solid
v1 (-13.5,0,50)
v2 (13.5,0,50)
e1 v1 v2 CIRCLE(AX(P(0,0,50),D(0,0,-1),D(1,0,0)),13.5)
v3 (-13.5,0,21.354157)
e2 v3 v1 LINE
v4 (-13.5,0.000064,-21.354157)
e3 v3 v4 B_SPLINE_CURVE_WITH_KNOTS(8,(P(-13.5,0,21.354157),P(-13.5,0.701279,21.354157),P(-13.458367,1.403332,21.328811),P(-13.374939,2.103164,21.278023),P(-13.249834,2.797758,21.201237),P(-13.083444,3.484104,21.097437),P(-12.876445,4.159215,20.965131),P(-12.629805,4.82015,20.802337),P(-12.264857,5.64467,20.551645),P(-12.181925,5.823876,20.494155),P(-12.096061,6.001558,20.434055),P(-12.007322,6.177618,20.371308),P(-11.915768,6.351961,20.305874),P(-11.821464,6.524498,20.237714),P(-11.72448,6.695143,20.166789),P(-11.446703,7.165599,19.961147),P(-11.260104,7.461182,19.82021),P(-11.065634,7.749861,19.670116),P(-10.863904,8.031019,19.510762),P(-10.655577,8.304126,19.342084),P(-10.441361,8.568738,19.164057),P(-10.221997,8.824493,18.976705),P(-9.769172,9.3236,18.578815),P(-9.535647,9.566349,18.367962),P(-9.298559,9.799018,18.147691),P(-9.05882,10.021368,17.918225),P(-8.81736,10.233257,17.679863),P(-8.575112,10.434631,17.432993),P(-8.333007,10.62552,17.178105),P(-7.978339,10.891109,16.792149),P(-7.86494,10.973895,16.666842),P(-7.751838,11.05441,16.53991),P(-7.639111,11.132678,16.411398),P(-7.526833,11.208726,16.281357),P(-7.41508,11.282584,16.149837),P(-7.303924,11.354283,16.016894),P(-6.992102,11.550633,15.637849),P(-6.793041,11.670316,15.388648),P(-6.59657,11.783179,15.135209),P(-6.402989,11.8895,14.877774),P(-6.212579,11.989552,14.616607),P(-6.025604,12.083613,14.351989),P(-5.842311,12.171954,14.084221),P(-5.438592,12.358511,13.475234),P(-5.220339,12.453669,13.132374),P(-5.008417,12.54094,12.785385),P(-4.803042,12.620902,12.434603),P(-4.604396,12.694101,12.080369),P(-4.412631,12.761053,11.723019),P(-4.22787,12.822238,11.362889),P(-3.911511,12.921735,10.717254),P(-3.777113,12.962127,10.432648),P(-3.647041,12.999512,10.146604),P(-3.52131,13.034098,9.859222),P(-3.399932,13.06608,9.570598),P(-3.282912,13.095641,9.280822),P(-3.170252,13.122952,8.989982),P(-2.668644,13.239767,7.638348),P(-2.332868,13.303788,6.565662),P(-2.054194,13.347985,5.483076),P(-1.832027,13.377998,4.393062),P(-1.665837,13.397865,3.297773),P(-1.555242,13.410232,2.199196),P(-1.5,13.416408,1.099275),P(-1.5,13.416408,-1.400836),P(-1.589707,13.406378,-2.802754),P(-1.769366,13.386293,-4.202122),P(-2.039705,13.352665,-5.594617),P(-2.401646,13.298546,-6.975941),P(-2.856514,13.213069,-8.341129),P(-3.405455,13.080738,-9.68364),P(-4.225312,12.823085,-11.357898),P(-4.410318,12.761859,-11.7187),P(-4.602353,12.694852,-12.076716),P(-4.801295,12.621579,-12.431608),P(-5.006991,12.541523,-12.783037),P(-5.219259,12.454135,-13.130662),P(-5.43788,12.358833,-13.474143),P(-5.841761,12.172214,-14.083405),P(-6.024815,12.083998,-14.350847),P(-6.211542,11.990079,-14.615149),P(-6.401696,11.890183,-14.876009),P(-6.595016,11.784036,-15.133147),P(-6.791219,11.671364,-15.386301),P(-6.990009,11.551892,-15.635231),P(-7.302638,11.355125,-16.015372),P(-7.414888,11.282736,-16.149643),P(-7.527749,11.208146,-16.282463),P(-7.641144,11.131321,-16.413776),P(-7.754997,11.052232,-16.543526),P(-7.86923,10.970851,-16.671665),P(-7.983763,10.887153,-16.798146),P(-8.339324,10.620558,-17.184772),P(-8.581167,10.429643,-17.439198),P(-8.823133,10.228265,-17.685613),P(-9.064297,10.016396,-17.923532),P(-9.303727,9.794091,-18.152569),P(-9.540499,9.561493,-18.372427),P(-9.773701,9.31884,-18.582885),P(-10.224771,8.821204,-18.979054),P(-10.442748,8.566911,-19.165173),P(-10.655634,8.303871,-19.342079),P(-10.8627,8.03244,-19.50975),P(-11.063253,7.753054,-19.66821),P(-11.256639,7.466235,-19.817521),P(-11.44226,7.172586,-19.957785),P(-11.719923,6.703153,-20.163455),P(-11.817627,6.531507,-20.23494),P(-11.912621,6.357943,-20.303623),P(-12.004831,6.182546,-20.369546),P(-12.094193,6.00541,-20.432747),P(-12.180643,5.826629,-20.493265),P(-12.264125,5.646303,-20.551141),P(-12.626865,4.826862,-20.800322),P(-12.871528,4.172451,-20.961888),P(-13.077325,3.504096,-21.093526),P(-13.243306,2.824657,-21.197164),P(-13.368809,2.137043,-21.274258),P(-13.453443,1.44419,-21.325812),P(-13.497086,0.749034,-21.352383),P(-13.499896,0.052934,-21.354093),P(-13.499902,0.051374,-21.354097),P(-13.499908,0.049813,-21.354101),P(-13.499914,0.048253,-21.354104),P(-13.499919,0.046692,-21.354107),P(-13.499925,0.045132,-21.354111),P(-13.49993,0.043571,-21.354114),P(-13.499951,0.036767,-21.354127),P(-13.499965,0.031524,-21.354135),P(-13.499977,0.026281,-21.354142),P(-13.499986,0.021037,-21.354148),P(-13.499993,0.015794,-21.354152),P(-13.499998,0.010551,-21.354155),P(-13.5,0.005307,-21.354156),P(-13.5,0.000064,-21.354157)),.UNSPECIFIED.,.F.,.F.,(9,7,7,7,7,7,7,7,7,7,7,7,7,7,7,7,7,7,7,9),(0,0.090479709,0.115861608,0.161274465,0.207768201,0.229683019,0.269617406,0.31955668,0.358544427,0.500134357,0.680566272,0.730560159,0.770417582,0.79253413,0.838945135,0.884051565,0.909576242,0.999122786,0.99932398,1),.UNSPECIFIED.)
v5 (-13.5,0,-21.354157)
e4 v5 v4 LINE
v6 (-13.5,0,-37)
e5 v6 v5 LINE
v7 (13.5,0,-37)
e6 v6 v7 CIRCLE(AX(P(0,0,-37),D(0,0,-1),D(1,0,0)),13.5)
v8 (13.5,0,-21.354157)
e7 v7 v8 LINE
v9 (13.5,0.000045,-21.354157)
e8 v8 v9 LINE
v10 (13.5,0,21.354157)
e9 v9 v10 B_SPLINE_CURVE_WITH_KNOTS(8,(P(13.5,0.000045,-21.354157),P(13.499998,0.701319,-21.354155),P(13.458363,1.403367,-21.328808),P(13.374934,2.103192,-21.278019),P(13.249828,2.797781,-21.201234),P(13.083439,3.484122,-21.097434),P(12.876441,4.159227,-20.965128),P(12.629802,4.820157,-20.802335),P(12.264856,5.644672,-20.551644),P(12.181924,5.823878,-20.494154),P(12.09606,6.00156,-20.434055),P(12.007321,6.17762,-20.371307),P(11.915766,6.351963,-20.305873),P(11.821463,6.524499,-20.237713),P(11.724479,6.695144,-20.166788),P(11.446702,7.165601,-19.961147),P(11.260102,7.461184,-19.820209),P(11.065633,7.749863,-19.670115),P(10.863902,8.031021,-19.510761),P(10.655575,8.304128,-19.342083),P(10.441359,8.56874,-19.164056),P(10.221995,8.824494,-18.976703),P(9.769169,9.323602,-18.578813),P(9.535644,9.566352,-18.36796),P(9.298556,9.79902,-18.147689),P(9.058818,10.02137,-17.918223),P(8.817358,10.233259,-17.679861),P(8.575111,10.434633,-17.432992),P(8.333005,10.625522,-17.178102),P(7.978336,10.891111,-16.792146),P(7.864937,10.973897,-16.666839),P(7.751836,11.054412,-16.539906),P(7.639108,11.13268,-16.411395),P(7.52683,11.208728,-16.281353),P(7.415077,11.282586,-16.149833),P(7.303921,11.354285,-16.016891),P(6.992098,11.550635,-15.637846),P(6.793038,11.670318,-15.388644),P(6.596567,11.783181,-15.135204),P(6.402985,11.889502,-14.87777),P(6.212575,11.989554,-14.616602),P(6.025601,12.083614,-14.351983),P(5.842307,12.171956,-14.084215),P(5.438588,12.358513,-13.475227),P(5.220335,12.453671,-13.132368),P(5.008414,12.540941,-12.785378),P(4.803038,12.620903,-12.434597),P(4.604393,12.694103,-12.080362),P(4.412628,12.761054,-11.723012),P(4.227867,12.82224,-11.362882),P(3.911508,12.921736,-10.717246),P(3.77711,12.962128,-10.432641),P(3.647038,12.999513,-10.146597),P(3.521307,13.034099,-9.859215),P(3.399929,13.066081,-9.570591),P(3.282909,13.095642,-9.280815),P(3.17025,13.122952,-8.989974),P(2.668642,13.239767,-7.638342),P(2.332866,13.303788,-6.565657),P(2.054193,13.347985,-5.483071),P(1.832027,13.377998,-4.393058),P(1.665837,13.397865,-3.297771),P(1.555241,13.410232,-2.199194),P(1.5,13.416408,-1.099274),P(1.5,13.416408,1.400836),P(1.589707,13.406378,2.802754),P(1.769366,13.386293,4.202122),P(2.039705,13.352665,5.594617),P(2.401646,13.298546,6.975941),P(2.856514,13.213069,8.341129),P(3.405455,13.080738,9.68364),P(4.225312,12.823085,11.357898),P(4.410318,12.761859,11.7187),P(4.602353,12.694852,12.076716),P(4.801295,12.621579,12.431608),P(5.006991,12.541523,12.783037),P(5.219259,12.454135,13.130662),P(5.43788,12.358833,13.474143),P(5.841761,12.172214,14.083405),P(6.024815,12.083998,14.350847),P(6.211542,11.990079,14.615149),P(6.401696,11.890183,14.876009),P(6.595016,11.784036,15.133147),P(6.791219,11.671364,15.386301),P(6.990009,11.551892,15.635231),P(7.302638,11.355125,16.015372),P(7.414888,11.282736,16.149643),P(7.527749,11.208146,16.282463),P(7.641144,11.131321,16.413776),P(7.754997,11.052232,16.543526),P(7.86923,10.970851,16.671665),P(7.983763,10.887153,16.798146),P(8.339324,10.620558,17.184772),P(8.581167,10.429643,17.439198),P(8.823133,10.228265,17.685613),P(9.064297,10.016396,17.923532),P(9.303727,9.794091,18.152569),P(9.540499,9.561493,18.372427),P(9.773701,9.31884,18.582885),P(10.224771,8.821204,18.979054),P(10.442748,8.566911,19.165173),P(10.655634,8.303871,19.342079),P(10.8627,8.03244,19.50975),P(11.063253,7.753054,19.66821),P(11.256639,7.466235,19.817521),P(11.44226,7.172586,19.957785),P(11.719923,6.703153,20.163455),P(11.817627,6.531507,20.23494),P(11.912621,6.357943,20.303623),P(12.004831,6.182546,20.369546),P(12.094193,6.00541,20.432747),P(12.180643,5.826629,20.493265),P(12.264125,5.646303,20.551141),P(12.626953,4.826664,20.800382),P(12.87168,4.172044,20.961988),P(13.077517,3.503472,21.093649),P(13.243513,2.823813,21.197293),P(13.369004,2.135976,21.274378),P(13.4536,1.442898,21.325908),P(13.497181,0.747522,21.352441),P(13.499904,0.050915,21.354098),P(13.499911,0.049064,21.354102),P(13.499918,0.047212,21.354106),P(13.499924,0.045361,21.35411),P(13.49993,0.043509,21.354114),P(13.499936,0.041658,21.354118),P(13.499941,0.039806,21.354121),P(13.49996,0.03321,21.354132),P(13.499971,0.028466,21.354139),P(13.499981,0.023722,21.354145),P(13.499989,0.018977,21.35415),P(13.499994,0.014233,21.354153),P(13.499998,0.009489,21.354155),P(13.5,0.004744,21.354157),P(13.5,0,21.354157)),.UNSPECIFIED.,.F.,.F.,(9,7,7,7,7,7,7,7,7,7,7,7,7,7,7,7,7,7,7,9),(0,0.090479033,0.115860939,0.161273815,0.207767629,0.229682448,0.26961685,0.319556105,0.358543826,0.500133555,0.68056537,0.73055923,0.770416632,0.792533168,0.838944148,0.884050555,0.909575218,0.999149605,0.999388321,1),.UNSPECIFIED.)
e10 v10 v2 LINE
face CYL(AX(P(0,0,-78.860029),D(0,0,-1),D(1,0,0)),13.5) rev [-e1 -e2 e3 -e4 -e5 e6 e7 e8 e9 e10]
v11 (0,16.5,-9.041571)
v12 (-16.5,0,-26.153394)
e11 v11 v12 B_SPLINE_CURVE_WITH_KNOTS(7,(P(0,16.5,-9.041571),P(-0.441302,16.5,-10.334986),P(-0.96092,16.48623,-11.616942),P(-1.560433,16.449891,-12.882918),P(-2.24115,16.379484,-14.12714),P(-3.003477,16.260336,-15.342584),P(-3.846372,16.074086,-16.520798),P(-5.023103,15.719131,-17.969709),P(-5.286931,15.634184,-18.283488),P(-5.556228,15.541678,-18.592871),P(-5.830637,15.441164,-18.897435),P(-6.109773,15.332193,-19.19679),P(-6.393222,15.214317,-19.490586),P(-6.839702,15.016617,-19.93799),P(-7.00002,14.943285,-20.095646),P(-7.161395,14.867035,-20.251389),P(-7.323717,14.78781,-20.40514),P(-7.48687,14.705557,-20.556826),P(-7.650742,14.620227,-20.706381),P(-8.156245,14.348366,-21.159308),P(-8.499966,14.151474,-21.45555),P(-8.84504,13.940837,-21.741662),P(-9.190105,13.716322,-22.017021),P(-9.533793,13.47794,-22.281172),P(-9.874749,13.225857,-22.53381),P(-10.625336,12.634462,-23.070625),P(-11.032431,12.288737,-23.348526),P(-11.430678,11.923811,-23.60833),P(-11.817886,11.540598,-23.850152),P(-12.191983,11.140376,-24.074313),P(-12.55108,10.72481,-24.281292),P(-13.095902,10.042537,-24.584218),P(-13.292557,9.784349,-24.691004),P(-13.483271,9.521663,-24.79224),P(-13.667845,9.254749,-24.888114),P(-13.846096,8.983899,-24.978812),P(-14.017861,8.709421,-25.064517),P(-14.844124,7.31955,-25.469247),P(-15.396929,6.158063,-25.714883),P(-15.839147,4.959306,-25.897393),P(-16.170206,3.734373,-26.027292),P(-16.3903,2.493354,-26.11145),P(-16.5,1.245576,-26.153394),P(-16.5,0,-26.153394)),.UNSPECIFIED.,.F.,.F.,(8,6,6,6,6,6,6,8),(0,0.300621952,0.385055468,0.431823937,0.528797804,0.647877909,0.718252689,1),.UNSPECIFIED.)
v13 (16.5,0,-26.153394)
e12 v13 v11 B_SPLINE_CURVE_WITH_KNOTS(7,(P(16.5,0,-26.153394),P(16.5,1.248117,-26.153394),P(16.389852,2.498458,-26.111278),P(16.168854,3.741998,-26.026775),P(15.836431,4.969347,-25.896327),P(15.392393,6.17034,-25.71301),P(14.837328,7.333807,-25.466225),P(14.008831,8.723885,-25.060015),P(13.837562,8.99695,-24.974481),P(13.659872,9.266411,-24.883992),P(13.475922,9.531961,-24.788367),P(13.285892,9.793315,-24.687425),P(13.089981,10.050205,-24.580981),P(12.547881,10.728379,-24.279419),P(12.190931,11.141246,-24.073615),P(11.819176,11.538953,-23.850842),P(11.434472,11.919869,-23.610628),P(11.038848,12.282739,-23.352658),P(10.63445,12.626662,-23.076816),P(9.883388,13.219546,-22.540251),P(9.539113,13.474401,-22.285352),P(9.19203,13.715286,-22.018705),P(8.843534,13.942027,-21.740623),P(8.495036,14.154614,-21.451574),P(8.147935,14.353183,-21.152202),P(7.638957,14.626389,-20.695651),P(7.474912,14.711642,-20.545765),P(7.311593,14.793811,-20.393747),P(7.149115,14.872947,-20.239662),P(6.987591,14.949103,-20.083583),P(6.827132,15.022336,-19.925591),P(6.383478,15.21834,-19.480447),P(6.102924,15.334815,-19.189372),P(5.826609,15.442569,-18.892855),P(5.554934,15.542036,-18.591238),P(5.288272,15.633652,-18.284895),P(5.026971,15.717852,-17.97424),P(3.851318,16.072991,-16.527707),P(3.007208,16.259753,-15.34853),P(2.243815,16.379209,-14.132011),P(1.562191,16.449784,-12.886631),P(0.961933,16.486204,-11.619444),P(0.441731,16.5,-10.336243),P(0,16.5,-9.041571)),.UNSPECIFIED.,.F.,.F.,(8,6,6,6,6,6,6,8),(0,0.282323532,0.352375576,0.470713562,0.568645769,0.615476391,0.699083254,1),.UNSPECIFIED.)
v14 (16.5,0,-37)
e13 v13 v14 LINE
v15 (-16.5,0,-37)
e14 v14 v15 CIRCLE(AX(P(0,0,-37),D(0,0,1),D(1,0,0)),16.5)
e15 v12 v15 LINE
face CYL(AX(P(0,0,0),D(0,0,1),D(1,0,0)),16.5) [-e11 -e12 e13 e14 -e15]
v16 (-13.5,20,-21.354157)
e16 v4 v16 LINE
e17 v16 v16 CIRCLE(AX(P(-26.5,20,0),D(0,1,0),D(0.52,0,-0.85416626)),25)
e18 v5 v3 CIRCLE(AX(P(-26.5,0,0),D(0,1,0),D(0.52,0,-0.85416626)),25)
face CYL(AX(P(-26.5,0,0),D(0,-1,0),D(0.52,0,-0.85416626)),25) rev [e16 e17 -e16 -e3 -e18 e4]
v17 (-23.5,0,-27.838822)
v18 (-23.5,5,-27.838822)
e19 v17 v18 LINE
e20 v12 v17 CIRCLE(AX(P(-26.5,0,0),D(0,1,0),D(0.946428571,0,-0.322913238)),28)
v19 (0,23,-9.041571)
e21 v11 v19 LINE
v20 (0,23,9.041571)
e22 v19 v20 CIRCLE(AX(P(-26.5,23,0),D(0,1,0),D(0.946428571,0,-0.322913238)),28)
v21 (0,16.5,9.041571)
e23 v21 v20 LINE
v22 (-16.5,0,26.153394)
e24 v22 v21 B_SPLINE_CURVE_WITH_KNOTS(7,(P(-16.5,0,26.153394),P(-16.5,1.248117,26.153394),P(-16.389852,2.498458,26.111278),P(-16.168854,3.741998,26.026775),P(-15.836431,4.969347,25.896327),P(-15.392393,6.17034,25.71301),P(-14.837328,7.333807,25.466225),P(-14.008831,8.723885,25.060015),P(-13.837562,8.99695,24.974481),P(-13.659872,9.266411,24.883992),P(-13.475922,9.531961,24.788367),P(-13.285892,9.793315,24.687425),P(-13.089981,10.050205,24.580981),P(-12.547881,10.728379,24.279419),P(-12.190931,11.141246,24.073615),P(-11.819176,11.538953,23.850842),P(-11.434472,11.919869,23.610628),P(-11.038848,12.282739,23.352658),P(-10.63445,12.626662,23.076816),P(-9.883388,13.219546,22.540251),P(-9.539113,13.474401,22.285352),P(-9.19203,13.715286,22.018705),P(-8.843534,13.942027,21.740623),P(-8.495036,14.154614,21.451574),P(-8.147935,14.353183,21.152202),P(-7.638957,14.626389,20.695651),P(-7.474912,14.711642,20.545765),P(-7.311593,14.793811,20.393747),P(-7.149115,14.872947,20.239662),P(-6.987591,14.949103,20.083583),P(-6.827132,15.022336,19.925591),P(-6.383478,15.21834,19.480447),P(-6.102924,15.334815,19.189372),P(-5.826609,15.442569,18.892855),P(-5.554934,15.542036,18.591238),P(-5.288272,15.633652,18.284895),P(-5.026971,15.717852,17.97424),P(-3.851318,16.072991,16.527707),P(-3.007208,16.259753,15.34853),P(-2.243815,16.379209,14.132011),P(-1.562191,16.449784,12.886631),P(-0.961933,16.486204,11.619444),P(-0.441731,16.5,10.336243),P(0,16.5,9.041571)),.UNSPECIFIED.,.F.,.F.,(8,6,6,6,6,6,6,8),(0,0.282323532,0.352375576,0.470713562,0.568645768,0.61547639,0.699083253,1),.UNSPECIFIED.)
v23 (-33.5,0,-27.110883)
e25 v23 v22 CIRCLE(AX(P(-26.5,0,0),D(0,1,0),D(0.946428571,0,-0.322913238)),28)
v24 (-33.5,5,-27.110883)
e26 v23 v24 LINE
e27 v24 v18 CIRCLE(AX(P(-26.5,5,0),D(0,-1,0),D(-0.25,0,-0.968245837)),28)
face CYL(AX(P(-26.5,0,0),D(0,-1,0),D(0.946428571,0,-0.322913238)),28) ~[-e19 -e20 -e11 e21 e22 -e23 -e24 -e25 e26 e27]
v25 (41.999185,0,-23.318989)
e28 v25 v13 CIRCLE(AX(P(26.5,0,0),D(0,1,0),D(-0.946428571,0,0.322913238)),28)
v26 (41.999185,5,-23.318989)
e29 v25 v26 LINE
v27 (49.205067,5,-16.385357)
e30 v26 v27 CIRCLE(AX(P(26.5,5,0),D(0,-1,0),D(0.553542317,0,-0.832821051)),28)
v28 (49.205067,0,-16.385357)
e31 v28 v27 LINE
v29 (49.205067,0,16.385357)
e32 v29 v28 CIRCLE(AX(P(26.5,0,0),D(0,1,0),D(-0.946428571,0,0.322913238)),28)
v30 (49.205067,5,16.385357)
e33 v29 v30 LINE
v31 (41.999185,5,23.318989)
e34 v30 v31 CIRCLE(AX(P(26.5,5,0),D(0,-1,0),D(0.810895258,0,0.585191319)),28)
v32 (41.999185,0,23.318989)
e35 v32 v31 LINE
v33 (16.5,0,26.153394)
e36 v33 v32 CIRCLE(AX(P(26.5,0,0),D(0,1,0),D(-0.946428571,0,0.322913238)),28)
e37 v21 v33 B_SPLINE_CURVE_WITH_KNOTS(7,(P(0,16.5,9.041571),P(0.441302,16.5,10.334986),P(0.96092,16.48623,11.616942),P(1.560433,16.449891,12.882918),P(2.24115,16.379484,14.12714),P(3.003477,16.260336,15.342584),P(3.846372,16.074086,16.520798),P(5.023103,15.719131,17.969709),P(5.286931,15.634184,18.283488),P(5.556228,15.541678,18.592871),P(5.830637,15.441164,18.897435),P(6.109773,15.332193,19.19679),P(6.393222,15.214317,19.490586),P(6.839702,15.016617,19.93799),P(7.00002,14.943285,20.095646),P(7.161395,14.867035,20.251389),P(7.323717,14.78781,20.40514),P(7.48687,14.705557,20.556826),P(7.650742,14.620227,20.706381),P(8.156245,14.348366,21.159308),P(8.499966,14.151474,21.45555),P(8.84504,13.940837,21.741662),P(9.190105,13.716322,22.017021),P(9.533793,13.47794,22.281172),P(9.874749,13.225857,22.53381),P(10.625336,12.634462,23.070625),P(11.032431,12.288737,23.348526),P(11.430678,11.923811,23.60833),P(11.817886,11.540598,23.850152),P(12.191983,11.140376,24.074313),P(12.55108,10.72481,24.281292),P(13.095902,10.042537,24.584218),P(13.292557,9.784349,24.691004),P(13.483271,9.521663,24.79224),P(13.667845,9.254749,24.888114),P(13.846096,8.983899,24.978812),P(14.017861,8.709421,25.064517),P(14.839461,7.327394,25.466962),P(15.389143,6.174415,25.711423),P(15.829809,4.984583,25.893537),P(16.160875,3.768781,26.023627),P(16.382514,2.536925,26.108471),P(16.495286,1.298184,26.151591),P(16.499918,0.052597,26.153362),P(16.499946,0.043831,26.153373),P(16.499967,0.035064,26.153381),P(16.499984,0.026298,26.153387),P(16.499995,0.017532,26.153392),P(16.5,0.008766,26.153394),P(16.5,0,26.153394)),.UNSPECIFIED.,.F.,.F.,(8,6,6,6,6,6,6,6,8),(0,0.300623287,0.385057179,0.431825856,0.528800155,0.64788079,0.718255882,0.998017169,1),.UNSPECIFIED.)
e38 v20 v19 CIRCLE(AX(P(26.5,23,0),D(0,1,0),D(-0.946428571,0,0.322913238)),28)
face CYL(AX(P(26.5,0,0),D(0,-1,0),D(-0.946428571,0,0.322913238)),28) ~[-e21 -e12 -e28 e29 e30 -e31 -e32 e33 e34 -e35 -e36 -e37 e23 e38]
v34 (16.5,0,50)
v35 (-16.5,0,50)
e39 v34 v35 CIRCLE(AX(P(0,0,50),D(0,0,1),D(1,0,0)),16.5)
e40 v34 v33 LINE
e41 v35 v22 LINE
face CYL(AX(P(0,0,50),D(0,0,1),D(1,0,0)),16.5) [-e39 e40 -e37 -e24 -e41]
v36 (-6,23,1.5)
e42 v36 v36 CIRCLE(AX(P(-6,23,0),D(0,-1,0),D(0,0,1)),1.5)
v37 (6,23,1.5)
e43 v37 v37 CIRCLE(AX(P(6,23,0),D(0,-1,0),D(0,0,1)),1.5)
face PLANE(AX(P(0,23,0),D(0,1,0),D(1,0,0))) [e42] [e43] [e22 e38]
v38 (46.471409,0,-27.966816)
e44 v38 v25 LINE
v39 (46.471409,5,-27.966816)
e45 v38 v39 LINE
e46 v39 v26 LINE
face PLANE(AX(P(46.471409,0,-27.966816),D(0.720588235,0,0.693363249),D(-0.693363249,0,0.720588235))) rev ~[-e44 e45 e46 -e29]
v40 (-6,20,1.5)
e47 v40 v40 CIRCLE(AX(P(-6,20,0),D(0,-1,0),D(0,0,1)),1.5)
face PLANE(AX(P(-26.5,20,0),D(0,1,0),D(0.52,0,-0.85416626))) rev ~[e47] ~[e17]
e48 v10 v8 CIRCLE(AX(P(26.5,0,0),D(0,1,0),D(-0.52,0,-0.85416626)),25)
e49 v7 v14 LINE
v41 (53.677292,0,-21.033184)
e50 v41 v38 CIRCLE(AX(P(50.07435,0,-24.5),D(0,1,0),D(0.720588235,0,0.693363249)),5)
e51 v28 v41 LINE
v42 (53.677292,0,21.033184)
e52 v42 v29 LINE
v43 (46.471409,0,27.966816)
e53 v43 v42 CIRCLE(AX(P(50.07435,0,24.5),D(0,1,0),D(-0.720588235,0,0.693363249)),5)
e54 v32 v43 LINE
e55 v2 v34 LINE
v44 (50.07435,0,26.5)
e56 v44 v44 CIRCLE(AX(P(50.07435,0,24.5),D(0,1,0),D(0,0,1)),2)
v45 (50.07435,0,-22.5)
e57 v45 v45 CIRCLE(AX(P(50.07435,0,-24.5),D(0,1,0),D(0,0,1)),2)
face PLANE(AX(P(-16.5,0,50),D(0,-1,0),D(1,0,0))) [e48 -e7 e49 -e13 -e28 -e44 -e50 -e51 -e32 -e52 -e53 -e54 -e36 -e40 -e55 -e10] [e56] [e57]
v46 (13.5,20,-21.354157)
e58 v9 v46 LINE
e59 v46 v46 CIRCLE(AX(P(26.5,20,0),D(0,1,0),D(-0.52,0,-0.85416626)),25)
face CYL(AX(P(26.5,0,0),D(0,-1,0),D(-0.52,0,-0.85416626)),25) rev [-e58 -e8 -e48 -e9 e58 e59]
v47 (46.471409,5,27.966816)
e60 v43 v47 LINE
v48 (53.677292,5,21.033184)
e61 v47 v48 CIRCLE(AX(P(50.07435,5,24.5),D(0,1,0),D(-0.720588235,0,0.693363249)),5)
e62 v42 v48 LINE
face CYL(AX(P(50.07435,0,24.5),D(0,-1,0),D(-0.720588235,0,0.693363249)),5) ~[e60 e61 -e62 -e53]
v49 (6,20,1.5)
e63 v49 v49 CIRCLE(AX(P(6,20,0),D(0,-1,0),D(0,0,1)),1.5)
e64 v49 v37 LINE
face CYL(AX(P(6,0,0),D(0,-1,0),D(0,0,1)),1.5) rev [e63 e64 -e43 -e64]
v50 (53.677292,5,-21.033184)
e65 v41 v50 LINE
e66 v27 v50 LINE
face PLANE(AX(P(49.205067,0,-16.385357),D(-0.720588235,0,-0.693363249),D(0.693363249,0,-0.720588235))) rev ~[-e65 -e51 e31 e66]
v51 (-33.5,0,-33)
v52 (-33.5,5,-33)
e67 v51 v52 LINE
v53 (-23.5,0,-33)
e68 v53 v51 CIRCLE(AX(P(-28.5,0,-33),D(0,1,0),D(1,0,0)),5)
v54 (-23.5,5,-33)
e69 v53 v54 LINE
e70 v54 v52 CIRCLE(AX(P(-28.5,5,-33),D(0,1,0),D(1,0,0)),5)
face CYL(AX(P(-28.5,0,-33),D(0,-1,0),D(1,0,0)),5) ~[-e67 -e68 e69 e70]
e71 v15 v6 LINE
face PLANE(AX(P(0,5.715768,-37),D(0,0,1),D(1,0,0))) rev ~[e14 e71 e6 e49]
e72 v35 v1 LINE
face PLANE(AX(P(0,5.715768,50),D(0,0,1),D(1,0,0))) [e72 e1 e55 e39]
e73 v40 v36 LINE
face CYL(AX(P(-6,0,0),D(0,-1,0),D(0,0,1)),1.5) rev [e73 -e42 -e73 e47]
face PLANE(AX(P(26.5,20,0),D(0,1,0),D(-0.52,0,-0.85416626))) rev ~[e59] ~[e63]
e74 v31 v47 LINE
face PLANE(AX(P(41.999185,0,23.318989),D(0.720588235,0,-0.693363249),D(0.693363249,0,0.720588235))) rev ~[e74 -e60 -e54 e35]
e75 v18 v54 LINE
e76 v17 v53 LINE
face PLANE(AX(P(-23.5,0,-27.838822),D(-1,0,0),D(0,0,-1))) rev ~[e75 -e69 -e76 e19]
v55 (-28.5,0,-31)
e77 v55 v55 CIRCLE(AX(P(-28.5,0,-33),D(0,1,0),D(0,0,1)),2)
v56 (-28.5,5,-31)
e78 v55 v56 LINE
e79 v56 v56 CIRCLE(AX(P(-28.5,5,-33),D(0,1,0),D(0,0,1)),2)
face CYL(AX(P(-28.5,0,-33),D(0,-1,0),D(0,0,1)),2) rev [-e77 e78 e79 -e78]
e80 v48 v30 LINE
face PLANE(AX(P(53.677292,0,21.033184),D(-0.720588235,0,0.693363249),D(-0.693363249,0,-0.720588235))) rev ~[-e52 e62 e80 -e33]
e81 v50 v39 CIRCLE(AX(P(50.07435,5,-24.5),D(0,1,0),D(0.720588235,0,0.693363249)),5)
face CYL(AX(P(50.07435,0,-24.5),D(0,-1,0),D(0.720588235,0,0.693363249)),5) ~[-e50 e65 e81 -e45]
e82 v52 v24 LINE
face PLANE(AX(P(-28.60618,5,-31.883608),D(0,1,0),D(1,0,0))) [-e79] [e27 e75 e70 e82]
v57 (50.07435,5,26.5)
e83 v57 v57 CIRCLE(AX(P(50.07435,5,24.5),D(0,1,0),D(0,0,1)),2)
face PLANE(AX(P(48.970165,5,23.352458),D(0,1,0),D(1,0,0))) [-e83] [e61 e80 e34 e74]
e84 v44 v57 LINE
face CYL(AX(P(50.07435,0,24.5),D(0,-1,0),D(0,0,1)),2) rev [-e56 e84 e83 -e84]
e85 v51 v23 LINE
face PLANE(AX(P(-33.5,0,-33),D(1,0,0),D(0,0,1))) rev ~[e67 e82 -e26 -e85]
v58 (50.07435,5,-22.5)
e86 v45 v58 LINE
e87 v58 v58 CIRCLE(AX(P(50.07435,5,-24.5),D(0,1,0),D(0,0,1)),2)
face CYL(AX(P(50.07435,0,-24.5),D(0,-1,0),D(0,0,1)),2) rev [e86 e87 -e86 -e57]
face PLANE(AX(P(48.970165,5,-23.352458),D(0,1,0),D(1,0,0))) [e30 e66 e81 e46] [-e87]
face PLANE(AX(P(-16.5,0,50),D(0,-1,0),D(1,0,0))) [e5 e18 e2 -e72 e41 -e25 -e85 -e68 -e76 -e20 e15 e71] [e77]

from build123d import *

# Parameters (mm, degrees)
BOSS_EXTRUDE1_DEPTH     = 23
SKETCH2_R               = 2
BOSS_EXTRUDE2_DEPTH     = 5
SKETCH3_R               = 2
BOSS_EXTRUDE3_DEPTH     = 5
BOSS_EXTRUDE4_DEPTH     = 37
BOSS_EXTRUDE5_START     = 50
BOSS_EXTRUDE5_DEPTH     = 50
CUT_EXTRUDE1_DEPTH      = 78.86002886
CUT_EXTRUDE1_DEPTH_BACK = 78.86002886
SKETCH5_R               = 25
CUT_EXTRUDE4_DEPTH      = 20
SKETCH7_R               = 1.5
CUT_EXTRUDE6_DEPTH      = 78.86002886


with BuildPart() as part:
    # Sketch1 → Boss-Extrude1 (new body)
    with BuildSketch(Plane(origin=(0, 0, 0), x_dir=(1, 0, 0), z_dir=(0, 1, 0))):
        with BuildLine():
            ThreePointArc((0, 9.04157066), (-54.5, 0), (0, -9.04157066))
            ThreePointArc((0, -9.04157066), (54.5, 0), (0, 9.04157066))
        make_face()
    extrude(amount=BOSS_EXTRUDE1_DEPTH)

    # Sketch2 → Boss-Extrude2 (add)
    with BuildSketch(Plane(origin=(0, 0, 0), x_dir=(1, 0, 0), z_dir=(0, 1, 0))):
        with BuildLine():
            Line((-33.5, 33), (-33.5, 27.110883423))
            ThreePointArc((-33.5, 27.110883423), (-28.532848636, 27.926108329), (-23.5, 27.838821814))
            Line((-23.5, 27.838821814), (-23.5, 33))
            ThreePointArc((-23.5, 33), (-28.5, 38), (-33.5, 33))
        make_face()
        with Locations((-28.5, 33)):
            Circle(SKETCH2_R, mode=Mode.SUBTRACT)
    extrude(amount=BOSS_EXTRUDE2_DEPTH)

    # Sketch3 → Boss-Extrude3 (add)
    # profile 1 of 2: a face of its own
    with BuildSketch(Plane(origin=(0, 0, 0), x_dir=(1, 0, 0), z_dir=(0, 1, 0))):
        with BuildLine():
            Line((41.999184876, -23.318989433), (46.471409292, -27.966816245))
            ThreePointArc((46.471409292, -27.966816245), (53.541166714, -28.102941176), (53.677291645, -21.033183755))
            Line((53.677291645, -21.033183755), (49.205067229, -16.385356942))
            ThreePointArc((49.205067229, -16.385356942), (45.914170974, -20.176470588), (41.999184876, -23.318989433))
        make_face()
        with Locations((50.074350468, -24.5)):
            Circle(SKETCH3_R, mode=Mode.SUBTRACT)
    # profile 2 of 2: a face of its own
    with BuildSketch(Plane(origin=(0, 0, 0), x_dir=(1, 0, 0), z_dir=(0, 1, 0))):
        with BuildLine():
            ThreePointArc((53.677291645, 21.033183755), (53.541166714, 28.102941176), (46.471409292, 27.966816245))
            Line((46.471409292, 27.966816245), (41.999184876, 23.318989433))
            ThreePointArc((41.999184876, 23.318989433), (45.914170974, 20.176470588), (49.205067229, 16.385356942))
            Line((49.205067229, 16.385356942), (53.677291645, 21.033183755))
        make_face()
        with Locations((50.074350468, 24.5)):
            Circle(SKETCH3_R, mode=Mode.SUBTRACT)
    extrude(amount=BOSS_EXTRUDE3_DEPTH)

    # Sketch6 → Boss-Extrude4 (add)
    with BuildSketch(Plane.XY):
        with BuildLine():
            Line((-16.5, 0), (16.5, 0))
            ThreePointArc((16.5, 0), (0, 16.5), (-16.5, 0))
        make_face()
    extrude(amount=-BOSS_EXTRUDE4_DEPTH)

    # Sketch6<2> → Boss-Extrude5 (add)
    with BuildSketch(Plane.XY.offset(BOSS_EXTRUDE5_START)):
        with BuildLine():
            Line((-16.5, 0), (16.5, 0))
            ThreePointArc((16.5, 0), (0, 16.5), (-16.5, 0))
        make_face()
    extrude(amount=-BOSS_EXTRUDE5_DEPTH)

    # Sketch4 → Cut-Extrude1 (cut, two sides: drawn at the far end of the back side and taken through both)
    with BuildSketch(Plane.XY.offset(-CUT_EXTRUDE1_DEPTH_BACK)):
        with BuildLine():
            Line((-13.5, 0), (13.5, 0))
            ThreePointArc((13.5, 0), (0, 13.5), (-13.5, 0))
        make_face()
    extrude(amount=CUT_EXTRUDE1_DEPTH + CUT_EXTRUDE1_DEPTH_BACK, mode=Mode.SUBTRACT)

    # Sketch5 → Cut-Extrude4 (cut)
    with BuildSketch(Plane(origin=(0, 0, 0), x_dir=(1, 0, 0), z_dir=(0, 1, 0))):
        with Locations((-26.5, 0)):
            Circle(SKETCH5_R)
        with Locations((26.5, 0)):
            Circle(SKETCH5_R)
    extrude(amount=CUT_EXTRUDE4_DEPTH, mode=Mode.SUBTRACT)

    # Sketch7 → Cut-Extrude6 (cut, through all)
    with BuildSketch(Plane(origin=(0, 0, 0), x_dir=(1, 0, 0), z_dir=(0, 1, 0))):
        with Locations((-6, 0)):
            Circle(SKETCH7_R)
        with Locations((6, 0)):
            Circle(SKETCH7_R)
    extrude(amount=CUT_EXTRUDE6_DEPTH, mode=Mode.SUBTRACT)


solid = part.part
